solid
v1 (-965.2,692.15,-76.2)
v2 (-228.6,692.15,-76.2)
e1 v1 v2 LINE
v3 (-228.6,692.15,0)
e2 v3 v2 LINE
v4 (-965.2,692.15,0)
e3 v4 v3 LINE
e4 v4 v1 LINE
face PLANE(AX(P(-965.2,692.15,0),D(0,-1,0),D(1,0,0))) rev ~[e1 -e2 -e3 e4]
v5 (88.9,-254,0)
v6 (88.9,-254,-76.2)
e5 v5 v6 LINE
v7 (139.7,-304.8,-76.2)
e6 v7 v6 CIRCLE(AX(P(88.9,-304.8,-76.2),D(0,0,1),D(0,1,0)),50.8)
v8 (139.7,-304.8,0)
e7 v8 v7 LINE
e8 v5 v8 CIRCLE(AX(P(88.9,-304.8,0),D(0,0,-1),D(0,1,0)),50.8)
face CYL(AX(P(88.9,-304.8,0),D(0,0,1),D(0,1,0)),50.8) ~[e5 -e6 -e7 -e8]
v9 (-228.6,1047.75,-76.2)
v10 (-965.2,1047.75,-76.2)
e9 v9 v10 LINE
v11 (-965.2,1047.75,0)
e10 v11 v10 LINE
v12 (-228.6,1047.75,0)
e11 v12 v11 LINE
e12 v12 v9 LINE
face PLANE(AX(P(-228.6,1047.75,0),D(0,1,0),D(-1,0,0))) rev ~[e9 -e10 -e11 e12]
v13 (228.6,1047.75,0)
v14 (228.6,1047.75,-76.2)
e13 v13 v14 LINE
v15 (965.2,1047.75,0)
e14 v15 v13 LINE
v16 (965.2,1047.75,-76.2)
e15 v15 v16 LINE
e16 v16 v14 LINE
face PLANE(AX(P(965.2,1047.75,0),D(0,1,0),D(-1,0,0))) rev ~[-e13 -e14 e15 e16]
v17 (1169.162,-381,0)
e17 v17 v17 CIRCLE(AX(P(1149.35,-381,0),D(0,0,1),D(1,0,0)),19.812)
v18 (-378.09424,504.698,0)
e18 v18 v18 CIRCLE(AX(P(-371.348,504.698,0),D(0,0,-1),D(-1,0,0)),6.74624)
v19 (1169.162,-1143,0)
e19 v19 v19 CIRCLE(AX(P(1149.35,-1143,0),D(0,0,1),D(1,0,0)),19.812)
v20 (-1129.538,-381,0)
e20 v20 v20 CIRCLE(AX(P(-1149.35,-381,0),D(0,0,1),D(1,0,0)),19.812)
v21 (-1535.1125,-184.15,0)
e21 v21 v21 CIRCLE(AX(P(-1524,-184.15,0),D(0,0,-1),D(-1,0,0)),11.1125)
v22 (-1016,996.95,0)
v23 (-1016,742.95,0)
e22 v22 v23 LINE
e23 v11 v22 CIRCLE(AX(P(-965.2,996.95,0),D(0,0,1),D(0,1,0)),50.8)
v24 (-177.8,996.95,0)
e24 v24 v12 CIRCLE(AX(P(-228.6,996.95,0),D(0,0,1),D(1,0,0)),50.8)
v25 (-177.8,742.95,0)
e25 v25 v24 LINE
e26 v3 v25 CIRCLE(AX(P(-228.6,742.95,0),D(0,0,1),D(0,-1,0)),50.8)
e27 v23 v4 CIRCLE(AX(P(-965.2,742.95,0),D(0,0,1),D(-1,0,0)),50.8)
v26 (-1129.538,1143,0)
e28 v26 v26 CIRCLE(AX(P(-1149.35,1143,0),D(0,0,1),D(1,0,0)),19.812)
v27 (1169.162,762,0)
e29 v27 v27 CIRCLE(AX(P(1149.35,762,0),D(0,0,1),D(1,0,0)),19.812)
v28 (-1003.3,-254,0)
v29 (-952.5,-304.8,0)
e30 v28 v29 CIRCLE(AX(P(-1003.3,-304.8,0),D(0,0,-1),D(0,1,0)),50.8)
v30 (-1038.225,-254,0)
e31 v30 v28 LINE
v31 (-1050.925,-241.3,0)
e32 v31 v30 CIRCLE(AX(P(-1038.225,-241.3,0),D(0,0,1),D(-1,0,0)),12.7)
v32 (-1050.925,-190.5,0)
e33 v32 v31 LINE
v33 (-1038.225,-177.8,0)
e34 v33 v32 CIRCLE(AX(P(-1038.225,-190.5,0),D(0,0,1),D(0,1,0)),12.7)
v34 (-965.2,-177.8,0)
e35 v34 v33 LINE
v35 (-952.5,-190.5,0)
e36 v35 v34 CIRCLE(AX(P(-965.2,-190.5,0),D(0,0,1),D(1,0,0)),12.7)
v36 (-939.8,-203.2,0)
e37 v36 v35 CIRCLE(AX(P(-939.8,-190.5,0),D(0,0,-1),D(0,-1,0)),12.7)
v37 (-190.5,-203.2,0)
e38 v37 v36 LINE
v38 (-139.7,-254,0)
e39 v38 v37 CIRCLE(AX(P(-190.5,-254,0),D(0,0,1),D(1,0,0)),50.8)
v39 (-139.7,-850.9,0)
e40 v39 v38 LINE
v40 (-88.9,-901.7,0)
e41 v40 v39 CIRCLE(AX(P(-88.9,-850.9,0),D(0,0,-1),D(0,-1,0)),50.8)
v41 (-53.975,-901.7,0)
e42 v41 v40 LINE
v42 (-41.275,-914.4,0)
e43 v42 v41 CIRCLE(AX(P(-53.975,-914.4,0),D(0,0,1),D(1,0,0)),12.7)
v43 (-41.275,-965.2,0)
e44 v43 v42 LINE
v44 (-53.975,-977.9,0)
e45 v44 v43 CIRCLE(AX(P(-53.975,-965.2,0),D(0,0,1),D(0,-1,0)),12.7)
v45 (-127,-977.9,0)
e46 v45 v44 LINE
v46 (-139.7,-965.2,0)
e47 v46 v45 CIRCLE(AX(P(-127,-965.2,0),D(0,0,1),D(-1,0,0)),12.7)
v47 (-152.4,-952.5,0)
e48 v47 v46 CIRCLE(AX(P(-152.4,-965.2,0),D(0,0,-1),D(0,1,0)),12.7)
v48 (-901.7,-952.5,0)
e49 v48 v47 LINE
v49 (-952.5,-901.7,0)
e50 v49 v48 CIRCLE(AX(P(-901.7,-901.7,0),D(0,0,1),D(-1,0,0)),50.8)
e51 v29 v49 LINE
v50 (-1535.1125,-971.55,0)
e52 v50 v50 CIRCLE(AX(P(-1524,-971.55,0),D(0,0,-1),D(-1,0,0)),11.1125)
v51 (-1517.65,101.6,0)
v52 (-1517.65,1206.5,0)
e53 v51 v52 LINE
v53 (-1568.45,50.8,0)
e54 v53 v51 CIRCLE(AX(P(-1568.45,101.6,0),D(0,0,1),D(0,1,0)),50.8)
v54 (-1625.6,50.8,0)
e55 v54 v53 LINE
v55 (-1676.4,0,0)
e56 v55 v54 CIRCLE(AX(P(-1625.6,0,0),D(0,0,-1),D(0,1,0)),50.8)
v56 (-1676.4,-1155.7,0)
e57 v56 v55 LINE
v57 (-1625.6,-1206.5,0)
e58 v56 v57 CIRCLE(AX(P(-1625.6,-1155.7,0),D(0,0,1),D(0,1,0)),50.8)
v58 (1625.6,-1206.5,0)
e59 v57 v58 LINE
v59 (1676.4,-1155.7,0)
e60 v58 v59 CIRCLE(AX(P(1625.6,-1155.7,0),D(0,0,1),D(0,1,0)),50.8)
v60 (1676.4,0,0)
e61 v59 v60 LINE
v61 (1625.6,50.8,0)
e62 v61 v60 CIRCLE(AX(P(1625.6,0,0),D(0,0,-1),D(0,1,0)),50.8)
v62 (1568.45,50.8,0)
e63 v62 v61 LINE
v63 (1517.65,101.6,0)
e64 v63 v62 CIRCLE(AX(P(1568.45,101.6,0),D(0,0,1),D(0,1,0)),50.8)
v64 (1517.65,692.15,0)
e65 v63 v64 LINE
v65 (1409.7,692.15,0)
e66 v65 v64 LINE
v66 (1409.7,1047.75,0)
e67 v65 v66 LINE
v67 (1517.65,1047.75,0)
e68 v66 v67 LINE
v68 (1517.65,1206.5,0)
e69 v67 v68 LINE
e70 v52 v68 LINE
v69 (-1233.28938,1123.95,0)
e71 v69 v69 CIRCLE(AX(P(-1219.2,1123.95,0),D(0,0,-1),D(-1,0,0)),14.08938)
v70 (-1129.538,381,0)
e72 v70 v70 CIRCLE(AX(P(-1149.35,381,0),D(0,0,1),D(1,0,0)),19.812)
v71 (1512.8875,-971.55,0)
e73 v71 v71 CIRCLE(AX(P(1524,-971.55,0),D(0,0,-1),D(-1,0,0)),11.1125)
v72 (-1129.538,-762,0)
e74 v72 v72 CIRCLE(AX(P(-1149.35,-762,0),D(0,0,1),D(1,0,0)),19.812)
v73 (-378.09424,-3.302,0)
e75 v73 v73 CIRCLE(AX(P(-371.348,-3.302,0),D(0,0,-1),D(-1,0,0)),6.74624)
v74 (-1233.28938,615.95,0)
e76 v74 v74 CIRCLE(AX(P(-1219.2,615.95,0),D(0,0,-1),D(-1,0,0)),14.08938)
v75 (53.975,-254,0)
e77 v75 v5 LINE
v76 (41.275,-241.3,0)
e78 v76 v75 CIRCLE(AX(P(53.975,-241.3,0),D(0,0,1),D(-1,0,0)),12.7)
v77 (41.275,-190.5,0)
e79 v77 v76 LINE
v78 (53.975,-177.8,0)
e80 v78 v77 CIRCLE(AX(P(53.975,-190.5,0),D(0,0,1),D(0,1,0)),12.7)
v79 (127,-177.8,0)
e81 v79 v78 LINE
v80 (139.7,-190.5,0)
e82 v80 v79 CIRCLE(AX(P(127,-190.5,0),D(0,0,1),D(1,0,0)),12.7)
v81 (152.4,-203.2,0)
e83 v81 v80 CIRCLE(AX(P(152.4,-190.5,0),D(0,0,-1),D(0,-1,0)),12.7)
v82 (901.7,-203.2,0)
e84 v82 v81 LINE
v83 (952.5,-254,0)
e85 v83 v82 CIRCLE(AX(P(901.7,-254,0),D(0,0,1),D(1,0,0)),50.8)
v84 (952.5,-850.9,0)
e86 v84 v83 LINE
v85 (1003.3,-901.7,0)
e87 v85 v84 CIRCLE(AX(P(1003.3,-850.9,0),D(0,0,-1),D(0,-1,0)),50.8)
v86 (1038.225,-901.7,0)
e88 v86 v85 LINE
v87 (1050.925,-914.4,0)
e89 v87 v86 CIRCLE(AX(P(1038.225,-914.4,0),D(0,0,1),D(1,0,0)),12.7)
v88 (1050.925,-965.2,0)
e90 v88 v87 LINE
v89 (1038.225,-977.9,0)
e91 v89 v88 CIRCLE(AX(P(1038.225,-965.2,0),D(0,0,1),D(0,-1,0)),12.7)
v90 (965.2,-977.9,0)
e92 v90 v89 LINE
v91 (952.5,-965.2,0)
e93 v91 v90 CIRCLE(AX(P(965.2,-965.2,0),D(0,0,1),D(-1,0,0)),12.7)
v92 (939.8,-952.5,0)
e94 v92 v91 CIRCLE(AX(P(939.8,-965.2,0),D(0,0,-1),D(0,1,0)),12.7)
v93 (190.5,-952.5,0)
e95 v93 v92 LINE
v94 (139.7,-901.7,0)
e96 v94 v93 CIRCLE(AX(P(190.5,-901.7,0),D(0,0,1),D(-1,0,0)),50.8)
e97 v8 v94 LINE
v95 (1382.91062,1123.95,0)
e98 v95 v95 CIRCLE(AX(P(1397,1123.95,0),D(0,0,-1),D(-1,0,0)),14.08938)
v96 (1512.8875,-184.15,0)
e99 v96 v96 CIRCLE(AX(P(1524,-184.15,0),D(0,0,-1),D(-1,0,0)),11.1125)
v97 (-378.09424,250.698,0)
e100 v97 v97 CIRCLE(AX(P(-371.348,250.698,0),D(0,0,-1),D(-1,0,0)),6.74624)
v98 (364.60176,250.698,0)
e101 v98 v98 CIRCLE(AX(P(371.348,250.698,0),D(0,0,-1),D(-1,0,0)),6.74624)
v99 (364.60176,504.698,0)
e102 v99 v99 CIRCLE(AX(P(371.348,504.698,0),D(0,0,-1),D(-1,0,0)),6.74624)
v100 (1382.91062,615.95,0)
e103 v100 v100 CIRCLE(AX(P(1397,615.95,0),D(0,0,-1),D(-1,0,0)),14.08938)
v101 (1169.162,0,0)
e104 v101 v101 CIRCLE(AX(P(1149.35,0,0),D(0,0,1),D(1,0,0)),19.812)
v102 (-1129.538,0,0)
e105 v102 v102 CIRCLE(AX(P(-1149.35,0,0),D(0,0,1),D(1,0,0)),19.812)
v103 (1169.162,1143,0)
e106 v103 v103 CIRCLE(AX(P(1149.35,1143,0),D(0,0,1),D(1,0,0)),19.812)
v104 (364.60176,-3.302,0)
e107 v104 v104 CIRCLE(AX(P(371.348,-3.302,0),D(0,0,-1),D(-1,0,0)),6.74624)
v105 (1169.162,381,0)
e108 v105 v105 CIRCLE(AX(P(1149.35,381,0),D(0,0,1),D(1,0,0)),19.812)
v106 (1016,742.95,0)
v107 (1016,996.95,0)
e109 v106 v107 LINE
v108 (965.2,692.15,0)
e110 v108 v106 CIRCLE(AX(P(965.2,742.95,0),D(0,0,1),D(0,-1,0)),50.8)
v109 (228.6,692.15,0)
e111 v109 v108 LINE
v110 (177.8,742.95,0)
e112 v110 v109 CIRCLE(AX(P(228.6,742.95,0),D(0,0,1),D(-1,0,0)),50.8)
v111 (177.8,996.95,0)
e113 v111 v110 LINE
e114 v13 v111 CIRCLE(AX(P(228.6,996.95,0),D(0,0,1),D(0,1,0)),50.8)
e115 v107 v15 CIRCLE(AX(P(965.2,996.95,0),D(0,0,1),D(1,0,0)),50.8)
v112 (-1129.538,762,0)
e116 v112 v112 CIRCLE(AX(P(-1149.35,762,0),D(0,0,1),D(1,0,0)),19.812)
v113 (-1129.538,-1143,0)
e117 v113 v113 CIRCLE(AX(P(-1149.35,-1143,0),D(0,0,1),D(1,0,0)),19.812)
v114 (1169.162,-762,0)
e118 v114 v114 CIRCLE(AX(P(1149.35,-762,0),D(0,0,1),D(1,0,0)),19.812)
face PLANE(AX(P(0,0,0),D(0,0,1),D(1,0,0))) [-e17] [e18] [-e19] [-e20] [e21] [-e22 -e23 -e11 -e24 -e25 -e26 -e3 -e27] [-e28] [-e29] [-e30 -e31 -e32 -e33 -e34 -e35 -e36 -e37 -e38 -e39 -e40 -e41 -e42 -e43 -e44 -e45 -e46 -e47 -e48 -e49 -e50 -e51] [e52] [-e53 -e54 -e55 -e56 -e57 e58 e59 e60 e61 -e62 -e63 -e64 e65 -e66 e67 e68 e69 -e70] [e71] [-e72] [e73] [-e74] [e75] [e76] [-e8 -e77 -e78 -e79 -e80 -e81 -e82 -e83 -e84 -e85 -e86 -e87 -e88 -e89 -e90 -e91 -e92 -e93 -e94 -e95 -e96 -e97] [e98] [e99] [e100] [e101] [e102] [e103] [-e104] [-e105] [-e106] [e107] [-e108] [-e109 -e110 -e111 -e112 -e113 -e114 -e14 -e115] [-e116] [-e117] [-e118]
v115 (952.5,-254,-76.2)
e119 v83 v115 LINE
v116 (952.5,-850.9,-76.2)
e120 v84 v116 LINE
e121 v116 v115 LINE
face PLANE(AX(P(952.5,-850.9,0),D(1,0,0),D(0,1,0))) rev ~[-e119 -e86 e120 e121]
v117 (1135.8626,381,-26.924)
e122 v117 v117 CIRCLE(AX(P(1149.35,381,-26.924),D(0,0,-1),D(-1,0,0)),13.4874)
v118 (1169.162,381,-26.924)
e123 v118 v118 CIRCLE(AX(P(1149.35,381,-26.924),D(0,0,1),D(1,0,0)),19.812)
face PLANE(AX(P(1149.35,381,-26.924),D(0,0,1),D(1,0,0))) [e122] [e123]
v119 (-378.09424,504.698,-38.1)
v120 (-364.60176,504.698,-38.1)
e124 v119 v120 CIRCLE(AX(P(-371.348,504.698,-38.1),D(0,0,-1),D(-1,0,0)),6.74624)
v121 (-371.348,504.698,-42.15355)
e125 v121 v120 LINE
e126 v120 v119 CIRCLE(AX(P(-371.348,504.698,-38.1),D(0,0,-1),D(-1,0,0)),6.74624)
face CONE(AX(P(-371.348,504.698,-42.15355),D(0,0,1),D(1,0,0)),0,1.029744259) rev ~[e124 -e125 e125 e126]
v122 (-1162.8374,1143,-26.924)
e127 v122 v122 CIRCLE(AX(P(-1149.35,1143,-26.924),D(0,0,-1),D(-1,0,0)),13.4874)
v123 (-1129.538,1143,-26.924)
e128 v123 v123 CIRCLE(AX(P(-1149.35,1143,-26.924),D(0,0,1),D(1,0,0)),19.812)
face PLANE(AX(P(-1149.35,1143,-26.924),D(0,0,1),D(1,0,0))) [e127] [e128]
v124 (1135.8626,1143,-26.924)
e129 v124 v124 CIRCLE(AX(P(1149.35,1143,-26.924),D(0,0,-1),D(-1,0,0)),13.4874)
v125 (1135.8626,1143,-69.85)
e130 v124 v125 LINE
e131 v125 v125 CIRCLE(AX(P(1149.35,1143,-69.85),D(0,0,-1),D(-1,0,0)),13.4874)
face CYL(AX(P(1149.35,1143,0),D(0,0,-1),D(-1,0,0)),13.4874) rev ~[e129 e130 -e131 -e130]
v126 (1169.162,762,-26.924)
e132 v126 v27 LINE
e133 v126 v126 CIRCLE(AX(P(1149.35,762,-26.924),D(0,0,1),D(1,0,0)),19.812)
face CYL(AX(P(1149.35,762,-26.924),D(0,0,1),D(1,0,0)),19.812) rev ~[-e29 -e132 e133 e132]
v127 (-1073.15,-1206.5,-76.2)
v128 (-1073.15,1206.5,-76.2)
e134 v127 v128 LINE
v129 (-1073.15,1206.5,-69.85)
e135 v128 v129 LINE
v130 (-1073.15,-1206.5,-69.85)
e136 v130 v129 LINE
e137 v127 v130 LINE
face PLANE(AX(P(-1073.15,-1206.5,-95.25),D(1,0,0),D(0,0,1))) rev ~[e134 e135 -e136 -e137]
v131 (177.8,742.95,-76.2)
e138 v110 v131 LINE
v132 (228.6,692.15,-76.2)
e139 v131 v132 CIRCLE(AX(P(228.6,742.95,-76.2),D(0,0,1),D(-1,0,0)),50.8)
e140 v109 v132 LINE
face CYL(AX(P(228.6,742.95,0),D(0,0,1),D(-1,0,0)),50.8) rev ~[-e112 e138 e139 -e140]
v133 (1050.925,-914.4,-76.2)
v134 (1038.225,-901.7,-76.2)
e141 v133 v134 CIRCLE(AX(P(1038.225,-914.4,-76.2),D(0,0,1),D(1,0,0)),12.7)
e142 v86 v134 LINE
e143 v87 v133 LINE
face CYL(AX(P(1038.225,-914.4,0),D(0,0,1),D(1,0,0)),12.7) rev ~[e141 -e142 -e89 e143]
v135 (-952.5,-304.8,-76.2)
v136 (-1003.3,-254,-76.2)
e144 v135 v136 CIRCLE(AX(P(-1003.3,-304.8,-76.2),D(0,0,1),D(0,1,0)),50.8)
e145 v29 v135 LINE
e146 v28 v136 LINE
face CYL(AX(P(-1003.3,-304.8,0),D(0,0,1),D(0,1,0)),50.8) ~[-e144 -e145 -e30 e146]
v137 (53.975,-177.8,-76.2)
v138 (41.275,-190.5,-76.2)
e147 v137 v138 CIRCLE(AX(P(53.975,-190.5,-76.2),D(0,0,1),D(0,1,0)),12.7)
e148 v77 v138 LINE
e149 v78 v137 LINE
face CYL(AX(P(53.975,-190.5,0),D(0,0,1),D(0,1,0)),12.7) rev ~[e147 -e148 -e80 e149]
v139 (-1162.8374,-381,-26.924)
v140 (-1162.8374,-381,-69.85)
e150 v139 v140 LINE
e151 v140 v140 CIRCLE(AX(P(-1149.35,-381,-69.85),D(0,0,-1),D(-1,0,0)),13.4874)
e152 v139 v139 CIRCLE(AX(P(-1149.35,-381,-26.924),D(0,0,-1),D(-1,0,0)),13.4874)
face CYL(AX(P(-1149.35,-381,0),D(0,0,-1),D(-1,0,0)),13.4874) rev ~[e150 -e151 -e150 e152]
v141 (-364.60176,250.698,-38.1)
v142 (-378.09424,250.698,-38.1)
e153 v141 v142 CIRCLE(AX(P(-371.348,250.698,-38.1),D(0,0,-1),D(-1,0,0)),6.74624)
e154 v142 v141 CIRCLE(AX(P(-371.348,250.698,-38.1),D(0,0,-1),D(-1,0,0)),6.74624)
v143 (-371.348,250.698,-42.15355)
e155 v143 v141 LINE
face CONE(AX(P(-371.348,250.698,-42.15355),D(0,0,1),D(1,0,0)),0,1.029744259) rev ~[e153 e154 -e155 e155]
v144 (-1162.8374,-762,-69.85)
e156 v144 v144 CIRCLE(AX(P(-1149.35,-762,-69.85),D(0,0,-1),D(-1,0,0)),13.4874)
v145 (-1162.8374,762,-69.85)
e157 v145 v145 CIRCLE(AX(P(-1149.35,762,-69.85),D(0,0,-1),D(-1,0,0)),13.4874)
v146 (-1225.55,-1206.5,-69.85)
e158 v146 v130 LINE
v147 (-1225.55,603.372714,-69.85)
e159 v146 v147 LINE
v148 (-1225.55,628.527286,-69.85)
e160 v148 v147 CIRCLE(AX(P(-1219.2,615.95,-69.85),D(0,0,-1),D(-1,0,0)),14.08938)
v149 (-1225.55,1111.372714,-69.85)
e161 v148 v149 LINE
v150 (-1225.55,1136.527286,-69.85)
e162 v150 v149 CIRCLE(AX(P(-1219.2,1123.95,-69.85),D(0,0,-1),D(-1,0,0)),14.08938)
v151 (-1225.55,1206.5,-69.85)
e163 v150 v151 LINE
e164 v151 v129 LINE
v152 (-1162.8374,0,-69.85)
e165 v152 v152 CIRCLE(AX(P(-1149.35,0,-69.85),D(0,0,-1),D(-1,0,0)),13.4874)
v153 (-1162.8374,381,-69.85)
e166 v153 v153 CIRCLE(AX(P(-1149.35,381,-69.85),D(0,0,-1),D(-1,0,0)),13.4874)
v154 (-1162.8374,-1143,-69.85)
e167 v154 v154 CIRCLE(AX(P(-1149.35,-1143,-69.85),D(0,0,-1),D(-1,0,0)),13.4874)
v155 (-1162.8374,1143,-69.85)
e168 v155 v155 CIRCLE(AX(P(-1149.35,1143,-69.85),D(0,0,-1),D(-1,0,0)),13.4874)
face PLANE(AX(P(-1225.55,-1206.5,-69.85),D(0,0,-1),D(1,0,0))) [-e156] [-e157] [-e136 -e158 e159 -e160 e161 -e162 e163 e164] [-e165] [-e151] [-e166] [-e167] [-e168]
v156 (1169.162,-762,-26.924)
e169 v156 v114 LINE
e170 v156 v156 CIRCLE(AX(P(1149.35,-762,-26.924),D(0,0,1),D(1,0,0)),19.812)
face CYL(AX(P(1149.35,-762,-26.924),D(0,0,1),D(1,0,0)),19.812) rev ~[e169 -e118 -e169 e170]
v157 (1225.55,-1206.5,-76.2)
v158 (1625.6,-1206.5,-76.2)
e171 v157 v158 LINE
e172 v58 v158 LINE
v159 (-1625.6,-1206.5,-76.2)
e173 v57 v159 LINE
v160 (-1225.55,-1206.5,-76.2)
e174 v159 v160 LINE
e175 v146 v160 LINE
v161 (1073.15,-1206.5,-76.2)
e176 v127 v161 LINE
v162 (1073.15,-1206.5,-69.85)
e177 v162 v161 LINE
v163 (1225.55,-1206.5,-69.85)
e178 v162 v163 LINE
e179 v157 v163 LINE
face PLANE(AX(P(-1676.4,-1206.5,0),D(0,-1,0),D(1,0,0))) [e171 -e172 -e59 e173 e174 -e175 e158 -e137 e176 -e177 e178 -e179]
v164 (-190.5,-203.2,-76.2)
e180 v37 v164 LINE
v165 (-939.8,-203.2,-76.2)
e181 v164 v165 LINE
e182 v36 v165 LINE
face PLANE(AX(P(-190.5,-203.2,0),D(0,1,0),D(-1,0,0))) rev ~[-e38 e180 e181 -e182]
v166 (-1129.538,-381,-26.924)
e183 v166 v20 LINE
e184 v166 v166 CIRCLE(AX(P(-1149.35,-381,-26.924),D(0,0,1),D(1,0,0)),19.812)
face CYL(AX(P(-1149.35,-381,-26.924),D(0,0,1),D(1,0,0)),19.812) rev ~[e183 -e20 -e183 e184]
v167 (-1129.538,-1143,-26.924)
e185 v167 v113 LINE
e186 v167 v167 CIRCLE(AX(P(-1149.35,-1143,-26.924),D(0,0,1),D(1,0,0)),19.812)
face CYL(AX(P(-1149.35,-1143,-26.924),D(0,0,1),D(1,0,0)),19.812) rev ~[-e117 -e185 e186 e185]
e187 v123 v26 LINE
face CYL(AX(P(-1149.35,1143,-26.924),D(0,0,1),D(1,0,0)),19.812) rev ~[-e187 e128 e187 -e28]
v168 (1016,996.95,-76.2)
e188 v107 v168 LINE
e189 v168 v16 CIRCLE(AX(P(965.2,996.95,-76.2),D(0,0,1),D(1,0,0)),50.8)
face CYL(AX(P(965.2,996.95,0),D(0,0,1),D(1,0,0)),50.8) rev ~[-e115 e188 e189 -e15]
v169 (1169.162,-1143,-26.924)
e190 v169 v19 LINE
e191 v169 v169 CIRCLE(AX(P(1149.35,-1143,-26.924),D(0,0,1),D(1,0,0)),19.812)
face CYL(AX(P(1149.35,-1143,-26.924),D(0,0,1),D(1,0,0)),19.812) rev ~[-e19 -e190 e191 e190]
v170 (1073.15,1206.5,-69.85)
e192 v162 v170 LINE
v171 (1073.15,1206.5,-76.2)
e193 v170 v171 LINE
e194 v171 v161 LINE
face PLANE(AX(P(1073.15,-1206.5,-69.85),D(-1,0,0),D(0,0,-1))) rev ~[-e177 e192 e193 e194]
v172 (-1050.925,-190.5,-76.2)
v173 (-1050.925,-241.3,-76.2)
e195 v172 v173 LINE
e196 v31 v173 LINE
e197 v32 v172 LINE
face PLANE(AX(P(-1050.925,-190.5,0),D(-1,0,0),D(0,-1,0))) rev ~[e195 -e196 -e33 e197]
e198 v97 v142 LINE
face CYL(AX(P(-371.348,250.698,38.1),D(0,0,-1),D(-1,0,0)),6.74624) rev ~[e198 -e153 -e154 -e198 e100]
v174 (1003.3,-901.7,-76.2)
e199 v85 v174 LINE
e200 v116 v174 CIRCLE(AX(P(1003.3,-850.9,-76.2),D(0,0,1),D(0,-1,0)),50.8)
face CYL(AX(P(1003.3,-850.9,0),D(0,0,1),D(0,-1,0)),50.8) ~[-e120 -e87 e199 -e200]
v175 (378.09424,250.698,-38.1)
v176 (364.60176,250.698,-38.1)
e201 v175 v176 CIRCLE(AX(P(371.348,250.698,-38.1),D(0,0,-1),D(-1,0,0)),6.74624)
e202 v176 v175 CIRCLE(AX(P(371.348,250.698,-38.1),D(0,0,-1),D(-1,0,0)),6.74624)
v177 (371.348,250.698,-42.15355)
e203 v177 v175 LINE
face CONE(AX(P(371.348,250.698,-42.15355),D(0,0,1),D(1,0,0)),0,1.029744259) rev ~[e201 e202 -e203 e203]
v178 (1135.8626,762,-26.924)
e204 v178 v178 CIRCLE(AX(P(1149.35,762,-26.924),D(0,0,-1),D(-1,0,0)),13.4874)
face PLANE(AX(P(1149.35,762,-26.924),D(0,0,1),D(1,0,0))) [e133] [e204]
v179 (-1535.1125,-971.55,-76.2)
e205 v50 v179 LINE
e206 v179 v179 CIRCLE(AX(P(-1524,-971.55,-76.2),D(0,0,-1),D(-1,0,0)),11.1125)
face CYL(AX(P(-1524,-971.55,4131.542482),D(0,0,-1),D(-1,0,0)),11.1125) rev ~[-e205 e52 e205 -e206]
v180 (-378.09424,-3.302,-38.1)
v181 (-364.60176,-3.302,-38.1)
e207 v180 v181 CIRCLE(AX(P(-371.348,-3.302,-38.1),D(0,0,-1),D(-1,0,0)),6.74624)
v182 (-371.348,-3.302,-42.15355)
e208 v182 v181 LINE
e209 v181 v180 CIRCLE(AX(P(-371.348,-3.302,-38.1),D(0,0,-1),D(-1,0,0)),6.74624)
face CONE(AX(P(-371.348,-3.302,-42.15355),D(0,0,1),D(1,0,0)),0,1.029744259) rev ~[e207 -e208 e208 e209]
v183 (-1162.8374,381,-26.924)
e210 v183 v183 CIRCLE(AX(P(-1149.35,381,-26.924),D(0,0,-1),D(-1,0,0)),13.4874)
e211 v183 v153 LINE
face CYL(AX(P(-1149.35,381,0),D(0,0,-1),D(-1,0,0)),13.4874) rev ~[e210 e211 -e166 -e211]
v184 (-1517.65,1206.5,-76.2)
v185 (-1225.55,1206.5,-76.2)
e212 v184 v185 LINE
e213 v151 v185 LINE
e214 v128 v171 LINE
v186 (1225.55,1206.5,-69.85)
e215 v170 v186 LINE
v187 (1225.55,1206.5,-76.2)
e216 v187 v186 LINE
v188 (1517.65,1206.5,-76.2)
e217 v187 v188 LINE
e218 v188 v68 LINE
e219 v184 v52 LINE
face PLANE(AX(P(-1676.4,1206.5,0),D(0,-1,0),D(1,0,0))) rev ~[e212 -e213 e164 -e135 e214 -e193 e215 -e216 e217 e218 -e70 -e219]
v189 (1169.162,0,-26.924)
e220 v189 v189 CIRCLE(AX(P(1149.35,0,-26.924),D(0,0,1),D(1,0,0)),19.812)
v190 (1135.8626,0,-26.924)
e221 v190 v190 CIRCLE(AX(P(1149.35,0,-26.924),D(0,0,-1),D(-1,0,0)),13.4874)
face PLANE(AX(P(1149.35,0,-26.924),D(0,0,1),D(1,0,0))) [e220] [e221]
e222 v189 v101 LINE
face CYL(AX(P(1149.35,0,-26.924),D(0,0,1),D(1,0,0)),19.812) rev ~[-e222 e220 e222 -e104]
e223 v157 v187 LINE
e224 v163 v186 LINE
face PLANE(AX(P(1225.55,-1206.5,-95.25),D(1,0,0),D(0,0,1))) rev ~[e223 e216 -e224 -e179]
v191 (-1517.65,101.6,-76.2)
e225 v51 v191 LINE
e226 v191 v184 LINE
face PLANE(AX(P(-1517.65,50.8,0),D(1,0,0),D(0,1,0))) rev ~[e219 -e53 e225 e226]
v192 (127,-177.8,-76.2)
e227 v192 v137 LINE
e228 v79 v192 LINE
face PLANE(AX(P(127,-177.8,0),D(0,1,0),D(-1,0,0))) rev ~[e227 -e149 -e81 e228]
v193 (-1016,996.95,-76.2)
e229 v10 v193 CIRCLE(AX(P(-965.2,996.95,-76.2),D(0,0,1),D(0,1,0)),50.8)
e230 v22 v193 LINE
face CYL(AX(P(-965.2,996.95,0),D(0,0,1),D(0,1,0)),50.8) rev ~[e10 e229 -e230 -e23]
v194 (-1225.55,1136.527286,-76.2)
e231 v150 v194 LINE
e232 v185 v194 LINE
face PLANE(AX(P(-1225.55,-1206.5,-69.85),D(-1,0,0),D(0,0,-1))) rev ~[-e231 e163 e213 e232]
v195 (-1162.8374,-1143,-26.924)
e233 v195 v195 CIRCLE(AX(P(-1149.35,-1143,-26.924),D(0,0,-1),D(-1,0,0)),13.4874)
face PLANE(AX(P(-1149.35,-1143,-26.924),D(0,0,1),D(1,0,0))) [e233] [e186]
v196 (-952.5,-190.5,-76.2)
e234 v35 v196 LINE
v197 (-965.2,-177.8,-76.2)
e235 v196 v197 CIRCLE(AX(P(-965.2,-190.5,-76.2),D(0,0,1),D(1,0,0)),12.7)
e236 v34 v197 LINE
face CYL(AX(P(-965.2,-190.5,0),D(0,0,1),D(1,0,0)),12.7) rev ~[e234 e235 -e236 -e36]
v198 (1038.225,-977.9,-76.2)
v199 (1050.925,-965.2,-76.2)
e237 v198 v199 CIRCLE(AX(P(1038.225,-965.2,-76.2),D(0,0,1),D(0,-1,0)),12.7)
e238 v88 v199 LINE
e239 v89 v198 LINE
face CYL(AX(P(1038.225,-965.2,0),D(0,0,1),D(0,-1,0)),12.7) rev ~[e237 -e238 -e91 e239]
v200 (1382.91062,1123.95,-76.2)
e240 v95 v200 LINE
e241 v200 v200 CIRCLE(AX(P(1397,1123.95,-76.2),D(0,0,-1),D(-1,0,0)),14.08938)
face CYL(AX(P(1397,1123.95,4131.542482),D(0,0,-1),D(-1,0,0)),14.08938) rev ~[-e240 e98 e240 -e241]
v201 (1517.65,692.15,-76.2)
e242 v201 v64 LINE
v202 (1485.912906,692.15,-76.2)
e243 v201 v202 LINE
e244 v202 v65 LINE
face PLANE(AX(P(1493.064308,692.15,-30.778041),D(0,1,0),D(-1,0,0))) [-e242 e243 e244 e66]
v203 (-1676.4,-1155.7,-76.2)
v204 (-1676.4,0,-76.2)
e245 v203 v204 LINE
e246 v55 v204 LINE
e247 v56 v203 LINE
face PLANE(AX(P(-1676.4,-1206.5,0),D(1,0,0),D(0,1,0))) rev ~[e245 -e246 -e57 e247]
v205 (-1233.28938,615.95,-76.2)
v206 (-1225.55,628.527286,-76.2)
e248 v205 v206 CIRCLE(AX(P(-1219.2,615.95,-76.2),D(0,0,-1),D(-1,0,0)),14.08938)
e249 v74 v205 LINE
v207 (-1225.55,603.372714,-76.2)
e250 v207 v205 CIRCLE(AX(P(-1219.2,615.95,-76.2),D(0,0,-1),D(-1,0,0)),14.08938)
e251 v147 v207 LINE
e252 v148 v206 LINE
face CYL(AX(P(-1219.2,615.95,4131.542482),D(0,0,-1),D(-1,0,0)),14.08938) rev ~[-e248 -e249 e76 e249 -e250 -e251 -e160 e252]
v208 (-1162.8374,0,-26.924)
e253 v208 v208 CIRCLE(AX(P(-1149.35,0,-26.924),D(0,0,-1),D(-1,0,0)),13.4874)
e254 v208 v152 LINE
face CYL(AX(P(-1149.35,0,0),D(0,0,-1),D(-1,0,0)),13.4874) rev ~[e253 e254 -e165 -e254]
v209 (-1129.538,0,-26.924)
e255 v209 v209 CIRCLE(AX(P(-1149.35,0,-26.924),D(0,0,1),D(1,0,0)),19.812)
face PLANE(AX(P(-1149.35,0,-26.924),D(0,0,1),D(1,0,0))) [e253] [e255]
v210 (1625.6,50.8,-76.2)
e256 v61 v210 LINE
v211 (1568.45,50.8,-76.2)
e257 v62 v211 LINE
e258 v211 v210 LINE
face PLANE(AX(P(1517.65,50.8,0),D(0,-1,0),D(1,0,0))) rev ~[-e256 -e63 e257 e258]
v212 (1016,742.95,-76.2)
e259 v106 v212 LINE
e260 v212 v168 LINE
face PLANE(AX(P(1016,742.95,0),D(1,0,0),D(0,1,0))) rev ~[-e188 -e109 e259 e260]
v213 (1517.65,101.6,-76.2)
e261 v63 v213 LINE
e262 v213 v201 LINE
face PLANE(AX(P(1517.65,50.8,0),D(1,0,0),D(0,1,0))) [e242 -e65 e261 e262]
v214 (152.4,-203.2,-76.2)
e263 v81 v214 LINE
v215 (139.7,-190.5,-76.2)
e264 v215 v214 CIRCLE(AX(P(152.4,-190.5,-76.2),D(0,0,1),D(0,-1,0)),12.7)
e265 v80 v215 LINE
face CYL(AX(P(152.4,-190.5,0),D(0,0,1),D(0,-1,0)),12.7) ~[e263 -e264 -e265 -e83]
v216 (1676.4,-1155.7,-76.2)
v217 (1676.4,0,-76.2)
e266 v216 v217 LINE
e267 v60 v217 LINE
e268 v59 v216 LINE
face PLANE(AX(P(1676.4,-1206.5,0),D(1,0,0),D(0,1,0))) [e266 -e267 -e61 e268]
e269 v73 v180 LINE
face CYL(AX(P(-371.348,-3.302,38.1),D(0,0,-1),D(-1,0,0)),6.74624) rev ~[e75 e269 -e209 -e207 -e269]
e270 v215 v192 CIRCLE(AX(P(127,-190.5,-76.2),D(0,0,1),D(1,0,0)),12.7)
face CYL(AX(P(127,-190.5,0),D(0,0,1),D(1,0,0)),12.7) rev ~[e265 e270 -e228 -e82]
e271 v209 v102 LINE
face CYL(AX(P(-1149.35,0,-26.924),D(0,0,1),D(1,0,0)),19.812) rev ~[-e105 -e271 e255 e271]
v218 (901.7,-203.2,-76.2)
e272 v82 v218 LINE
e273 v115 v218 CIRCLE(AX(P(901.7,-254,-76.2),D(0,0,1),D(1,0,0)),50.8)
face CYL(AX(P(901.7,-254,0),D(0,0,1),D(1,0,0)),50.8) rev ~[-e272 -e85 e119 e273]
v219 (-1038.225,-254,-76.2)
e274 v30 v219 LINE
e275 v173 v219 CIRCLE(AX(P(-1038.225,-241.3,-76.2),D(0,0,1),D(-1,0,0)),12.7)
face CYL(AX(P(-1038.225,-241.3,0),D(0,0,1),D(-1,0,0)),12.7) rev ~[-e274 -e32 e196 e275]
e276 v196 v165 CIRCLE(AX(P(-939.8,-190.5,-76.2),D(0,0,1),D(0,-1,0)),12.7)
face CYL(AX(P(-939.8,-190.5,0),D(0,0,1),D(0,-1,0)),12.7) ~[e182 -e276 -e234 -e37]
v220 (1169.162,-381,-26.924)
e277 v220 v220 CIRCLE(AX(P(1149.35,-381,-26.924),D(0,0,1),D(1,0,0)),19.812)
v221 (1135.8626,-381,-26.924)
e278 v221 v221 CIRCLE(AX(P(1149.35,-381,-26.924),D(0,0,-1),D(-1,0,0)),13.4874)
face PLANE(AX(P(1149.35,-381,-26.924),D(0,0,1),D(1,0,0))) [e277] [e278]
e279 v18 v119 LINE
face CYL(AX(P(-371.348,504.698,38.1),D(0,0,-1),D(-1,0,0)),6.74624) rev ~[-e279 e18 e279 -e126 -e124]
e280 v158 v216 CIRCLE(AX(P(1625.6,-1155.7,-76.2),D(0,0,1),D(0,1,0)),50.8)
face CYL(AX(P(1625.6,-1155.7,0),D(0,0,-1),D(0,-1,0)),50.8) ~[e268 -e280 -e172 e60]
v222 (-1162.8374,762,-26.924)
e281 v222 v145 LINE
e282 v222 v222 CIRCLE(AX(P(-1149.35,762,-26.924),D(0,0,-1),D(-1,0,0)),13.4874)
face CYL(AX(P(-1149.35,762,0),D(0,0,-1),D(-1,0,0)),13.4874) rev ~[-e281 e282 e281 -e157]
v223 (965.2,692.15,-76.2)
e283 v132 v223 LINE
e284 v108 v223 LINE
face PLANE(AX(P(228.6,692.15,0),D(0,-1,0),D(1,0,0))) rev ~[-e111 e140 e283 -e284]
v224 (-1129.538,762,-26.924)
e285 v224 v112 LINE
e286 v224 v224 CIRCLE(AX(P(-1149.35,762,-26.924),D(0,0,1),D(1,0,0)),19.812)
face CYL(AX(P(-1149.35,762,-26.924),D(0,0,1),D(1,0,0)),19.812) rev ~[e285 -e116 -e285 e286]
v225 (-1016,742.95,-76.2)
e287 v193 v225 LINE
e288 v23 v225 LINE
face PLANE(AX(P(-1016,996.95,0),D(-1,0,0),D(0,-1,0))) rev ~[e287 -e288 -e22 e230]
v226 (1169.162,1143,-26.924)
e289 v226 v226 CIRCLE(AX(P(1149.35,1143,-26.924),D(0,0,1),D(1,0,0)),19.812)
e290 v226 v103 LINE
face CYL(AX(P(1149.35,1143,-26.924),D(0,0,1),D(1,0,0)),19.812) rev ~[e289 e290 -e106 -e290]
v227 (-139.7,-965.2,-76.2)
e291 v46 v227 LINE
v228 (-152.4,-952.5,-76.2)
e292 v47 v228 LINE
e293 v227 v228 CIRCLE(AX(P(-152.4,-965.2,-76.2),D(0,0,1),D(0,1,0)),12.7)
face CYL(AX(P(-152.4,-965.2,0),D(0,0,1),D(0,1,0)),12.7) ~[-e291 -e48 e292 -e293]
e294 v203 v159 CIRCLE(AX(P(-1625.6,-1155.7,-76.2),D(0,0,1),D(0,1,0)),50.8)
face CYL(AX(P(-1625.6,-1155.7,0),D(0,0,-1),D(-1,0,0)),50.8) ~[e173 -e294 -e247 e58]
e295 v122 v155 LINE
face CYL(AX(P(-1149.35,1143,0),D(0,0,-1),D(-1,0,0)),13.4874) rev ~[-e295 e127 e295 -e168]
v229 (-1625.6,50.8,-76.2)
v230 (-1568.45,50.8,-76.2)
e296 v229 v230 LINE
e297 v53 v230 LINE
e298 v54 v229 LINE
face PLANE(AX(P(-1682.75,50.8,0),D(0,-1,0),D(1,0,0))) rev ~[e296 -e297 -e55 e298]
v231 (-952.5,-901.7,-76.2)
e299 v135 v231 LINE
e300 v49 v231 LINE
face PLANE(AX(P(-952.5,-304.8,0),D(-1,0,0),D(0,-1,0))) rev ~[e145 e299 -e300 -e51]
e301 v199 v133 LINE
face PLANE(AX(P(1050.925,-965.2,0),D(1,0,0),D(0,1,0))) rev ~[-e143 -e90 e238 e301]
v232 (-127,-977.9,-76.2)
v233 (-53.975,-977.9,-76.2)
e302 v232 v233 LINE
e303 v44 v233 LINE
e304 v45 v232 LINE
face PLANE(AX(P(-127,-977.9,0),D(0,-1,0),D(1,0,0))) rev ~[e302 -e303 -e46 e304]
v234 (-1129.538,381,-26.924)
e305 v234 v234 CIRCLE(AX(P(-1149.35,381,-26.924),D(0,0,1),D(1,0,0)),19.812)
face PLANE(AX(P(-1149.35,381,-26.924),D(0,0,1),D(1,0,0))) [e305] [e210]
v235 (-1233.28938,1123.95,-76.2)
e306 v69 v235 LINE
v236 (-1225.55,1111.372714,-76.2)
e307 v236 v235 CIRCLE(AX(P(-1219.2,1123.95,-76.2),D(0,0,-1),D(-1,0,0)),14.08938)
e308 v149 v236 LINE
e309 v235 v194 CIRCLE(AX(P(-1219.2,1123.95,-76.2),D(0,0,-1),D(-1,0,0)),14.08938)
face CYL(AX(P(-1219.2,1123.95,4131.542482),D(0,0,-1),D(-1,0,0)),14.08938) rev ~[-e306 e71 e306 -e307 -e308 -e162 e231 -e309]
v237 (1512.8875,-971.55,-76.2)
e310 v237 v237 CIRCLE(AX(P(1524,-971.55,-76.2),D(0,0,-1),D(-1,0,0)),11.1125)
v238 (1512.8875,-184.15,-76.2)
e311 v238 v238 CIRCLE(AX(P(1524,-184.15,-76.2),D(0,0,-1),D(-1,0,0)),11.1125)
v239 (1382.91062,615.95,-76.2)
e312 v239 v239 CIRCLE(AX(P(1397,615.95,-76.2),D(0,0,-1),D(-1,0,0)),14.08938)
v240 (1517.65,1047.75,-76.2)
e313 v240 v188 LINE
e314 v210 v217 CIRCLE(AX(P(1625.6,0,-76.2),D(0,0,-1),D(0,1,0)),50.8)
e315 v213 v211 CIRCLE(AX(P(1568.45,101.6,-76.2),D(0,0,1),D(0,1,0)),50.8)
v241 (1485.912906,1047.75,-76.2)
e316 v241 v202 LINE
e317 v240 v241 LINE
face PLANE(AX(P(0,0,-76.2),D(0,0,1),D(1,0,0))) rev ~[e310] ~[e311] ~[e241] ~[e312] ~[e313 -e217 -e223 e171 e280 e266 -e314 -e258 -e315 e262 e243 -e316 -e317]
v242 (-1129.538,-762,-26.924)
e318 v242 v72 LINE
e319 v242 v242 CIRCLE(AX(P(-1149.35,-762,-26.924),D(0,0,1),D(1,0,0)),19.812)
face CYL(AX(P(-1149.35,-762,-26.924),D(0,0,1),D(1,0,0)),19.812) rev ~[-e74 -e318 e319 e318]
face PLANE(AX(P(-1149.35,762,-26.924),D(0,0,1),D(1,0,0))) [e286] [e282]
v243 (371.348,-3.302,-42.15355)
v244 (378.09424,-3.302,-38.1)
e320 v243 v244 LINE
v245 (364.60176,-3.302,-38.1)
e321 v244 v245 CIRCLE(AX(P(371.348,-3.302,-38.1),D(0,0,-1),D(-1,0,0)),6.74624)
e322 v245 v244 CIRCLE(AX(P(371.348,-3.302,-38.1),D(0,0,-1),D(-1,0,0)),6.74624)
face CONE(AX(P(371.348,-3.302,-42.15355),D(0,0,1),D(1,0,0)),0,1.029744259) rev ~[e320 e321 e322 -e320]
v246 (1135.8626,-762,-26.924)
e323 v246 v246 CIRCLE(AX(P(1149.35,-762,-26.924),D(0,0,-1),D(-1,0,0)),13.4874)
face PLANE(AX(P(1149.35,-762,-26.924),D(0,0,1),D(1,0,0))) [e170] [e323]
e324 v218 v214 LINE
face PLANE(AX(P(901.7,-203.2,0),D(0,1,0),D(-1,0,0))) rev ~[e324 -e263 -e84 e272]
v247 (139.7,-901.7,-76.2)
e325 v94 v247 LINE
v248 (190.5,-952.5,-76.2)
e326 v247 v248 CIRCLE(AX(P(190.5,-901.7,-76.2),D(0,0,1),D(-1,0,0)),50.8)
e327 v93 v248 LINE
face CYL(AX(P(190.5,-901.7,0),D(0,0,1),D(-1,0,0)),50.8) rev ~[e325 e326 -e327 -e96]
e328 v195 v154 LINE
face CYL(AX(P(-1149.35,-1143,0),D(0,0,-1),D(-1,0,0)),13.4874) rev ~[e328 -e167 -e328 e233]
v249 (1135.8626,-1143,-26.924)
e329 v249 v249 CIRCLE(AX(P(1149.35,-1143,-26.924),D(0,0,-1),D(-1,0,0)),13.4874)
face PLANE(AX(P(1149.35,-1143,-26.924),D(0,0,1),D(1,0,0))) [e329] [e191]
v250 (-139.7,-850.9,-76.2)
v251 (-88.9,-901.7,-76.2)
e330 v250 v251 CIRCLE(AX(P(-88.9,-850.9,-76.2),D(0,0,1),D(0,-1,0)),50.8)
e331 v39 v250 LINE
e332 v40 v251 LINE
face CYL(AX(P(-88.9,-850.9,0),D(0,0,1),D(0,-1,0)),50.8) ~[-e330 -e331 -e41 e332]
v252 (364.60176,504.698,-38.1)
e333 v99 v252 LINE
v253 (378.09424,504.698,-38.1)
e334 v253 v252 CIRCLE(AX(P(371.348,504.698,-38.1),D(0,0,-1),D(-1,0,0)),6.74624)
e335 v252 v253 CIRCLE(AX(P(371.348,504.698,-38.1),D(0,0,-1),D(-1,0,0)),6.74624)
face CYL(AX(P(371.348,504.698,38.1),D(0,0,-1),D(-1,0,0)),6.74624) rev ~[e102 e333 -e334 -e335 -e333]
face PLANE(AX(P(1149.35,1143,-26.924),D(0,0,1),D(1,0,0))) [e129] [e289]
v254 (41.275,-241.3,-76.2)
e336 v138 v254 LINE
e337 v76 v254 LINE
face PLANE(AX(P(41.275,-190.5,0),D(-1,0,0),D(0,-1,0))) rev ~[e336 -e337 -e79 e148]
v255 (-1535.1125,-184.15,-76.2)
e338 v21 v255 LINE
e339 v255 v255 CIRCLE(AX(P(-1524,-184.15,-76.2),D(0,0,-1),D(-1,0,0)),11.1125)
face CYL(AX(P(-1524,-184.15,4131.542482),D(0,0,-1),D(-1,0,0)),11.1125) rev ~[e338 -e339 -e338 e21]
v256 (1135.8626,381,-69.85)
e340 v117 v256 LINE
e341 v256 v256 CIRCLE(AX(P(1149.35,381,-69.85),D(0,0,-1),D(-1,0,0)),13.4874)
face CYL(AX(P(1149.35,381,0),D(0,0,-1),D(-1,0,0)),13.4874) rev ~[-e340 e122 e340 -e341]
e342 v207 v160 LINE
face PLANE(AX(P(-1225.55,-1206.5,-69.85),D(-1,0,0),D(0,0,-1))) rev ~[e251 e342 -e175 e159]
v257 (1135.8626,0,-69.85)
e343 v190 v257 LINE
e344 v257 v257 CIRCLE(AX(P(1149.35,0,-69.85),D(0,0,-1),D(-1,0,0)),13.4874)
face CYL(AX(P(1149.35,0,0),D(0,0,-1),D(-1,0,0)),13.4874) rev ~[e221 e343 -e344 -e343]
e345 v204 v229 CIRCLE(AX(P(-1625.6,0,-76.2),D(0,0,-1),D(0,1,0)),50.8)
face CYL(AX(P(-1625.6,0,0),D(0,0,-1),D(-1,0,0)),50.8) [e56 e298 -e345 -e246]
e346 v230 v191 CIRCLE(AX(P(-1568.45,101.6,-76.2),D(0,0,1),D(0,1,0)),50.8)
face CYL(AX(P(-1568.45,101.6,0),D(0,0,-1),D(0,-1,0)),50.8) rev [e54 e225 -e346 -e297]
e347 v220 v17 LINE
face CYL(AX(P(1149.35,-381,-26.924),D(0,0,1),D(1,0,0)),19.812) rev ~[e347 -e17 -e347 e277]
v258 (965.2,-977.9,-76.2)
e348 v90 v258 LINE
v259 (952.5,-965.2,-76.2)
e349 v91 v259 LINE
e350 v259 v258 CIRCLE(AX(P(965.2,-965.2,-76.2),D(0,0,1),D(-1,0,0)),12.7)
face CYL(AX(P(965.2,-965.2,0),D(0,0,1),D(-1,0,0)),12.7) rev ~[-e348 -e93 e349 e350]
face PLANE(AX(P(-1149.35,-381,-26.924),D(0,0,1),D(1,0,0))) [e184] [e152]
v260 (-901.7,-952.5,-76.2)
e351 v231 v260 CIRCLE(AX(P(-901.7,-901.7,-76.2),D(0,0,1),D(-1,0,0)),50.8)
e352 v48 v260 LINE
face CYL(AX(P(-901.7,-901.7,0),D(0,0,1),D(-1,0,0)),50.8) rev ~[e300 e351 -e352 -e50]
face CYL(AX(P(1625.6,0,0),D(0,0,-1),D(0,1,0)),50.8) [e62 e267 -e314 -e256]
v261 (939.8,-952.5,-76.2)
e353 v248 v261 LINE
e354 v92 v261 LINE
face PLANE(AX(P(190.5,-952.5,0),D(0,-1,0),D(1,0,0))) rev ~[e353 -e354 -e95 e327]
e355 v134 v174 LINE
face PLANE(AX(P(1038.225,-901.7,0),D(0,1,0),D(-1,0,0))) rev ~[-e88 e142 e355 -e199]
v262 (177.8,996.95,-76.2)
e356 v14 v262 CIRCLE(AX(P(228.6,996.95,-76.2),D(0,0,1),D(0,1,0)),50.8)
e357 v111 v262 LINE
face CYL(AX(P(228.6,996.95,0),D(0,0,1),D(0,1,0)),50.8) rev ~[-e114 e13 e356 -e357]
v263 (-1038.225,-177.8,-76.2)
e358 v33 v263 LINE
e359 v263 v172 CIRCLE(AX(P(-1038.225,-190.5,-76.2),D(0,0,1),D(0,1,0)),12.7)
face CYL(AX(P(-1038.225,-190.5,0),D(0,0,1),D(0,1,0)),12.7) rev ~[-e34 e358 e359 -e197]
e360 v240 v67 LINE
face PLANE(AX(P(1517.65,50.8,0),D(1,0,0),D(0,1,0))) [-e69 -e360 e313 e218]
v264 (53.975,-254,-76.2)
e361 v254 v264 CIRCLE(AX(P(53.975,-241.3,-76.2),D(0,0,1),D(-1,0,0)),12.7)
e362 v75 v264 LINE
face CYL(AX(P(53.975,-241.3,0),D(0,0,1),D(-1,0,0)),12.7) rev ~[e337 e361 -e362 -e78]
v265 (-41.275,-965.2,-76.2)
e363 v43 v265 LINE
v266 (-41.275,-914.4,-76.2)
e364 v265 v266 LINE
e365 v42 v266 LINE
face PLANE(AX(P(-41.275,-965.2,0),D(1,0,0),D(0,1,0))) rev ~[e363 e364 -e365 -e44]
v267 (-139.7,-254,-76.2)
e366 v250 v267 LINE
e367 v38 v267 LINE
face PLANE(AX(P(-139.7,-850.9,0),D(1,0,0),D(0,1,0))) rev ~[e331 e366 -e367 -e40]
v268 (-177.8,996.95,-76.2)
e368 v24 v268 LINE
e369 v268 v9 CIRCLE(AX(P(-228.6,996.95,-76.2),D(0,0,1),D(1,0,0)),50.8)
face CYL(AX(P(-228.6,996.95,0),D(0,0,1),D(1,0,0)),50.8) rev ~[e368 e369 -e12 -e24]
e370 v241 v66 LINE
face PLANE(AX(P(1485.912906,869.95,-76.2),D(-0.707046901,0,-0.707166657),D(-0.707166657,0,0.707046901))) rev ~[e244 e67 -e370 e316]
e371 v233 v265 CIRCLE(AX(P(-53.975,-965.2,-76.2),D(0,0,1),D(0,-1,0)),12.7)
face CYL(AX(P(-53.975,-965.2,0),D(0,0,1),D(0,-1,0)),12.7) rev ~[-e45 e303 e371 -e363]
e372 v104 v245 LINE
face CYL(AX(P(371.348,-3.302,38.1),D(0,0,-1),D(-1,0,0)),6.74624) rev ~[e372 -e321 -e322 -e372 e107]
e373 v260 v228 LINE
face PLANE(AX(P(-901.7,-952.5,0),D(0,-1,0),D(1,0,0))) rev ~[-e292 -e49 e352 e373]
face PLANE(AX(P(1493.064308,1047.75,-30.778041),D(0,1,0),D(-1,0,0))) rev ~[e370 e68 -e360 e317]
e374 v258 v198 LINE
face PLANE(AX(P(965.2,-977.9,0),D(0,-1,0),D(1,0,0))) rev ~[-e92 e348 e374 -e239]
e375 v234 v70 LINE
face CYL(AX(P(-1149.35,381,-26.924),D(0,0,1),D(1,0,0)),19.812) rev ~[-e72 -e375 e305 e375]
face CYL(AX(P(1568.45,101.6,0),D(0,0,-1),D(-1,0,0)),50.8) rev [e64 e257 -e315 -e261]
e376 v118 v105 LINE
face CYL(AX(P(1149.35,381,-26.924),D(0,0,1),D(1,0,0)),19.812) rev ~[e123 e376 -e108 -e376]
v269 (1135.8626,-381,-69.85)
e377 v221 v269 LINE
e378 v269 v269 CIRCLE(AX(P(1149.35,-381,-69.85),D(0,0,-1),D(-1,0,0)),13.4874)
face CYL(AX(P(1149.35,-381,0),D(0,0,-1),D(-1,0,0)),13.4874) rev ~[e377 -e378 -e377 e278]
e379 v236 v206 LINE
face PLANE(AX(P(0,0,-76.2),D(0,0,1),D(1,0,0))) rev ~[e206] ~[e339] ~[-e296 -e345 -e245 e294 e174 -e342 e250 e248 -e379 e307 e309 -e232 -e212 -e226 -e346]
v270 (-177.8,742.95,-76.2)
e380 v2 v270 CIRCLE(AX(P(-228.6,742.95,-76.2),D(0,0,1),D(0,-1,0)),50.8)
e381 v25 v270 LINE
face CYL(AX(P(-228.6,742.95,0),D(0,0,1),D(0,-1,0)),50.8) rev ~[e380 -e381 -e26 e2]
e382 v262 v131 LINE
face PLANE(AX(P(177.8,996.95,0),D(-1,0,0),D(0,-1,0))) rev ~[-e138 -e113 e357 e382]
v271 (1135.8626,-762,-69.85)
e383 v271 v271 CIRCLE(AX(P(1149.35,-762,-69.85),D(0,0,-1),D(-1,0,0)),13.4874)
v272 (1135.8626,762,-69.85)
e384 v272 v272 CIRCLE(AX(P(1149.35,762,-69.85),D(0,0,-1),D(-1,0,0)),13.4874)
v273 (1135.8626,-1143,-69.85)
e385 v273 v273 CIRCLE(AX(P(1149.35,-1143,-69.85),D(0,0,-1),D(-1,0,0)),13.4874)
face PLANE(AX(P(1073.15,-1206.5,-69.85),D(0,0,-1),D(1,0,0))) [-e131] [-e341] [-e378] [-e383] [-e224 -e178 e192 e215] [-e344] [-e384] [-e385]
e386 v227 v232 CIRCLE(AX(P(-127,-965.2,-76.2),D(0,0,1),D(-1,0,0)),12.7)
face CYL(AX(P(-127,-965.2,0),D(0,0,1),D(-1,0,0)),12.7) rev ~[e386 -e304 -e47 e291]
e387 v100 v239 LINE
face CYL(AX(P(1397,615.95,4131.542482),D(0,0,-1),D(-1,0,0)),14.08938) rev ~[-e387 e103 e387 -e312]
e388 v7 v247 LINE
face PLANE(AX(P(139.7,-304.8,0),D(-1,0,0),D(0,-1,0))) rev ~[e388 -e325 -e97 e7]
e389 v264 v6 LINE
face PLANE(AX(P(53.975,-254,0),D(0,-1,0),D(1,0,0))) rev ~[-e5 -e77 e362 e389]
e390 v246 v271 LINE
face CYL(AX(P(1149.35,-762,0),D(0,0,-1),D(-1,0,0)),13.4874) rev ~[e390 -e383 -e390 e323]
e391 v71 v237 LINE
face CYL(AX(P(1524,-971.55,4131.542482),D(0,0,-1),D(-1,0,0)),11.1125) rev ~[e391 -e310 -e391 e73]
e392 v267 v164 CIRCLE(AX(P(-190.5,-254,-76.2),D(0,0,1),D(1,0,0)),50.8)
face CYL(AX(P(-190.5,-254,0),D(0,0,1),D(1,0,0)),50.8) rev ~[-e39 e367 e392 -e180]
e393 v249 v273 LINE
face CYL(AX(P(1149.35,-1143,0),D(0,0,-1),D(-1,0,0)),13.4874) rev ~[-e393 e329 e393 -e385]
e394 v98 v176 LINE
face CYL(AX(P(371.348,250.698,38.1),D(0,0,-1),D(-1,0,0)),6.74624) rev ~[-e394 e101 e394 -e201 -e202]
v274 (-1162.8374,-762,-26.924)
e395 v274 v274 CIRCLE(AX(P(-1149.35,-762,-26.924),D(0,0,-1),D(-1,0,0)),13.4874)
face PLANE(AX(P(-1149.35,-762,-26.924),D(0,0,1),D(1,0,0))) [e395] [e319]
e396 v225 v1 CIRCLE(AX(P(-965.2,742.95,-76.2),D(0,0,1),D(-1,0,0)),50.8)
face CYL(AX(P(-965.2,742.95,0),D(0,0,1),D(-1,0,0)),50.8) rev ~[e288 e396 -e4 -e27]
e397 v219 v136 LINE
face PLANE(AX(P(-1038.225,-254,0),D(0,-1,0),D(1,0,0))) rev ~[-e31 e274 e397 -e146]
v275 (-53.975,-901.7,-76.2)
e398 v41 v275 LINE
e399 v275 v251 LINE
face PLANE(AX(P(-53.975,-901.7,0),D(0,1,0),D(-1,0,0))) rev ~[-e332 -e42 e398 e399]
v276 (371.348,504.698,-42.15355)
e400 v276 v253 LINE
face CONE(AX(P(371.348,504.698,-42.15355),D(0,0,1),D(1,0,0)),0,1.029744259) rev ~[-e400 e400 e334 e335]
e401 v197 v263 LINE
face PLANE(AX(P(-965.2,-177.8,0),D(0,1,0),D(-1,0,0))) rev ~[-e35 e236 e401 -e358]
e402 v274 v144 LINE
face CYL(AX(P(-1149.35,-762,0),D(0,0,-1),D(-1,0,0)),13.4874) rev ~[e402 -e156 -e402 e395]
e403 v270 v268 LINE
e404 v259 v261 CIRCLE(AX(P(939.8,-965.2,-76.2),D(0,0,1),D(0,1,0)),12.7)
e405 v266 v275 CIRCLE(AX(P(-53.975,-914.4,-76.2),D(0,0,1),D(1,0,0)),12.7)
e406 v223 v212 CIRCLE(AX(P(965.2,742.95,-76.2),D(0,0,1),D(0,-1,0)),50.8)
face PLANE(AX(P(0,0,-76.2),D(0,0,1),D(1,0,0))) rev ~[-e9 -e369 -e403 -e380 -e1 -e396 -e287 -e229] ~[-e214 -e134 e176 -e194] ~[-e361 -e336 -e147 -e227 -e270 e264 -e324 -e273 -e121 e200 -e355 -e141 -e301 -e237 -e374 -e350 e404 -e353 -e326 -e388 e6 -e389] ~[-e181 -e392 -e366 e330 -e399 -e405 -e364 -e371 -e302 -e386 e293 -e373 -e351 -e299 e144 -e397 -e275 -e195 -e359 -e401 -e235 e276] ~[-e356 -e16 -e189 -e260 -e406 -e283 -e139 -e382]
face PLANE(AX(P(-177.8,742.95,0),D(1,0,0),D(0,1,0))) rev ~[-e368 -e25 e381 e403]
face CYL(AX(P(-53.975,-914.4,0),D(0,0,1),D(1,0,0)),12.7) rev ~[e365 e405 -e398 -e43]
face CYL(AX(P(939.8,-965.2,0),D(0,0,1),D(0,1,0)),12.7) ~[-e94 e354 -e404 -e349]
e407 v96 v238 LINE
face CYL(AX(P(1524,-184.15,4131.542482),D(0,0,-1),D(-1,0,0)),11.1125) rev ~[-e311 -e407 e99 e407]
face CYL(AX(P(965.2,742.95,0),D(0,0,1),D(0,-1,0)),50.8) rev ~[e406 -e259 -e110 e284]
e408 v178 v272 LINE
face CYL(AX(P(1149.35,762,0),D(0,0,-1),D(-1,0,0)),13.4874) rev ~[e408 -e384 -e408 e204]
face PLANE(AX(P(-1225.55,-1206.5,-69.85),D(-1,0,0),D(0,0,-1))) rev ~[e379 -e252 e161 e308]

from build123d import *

# Parameters (mm, degrees)
F0_W            = 3352.8
F0_H            = 2413
F1_DEPTH        = 76.2
F2_W            = 152.4
F2_H            = 19.05
F2_H_2          = 6.35
F3_DEPTH        = 2413.001
F4_W            = 165.1
F4_H            = 1162.05
F5_DEPTH        = 76.201
F6_R            = 50.8
F8_DEPTH        = 76.201
F10_DEPTH       = 76.201
F13_DEPTH       = 177.8
F15_D           = 13.49248
F15_DEPTH       = 38.1
F15_TIP         = 4.0535499425
F17_D           = 26.9748
F17_CBORE_D     = 39.624
F17_CBORE_DEPTH = 26.924
F19_D           = 22.225
F21_D           = 28.17876
F23_D           = 28.17876


with BuildPart() as f1:
    # F0 (on Top) → F1 (new body)
    with BuildSketch(Plane.XY):
        Rectangle(F0_W, F0_H)
    extrude(amount=-F1_DEPTH)

    # F2 (on face) → F3 (cut, through all)
    with BuildSketch(Plane.XZ.offset(1206.5)):
        with Locations((-1149.35, -85.725)):
            Rectangle(F2_W, F2_H)
        with Locations((1149.35, -85.725)):
            Rectangle(F2_W, F2_H)
        with Locations((1149.35, -73.025)):
            Rectangle(F2_W, F2_H_2)
        with Locations((-1149.35, -73.025)):
            Rectangle(F2_W, F2_H_2)
    extrude(amount=-F3_DEPTH, mode=Mode.SUBTRACT)

    # F4 (on face) → F5 (cut, through all)
    with BuildSketch(Plane.XY):
        with Locations((-1600.2, 631.825)):
            Rectangle(F4_W, F4_H)
        with Locations((1600.2, 631.825)):
            Rectangle(F4_W, F4_H)
    extrude(amount=-F5_DEPTH, mode=Mode.SUBTRACT)

    # F6
    f6_edges = [f1.edges().sort_by_distance(p)[0] for p in [
        (-1676.4, -1206.5, -38.1),
        (-1676.4, 50.8, -38.1),
        (-1517.65, 50.8, -38.1),
        (1517.65, 50.8, -38.1),
        (1676.4, 50.8, -38.1),
        (1676.4, -1206.5, -38.1),
    ]]
    fillet(f6_edges, radius=F6_R)

    # F7 (on face) → F8 (cut, through all)
    with BuildSketch(Plane.XY):
        with BuildLine():
            ThreePointArc((-1016, 742.95), (-1001.1210244843, 707.0289755157), (-965.2, 692.15))
            Line((-965.2, 692.15), (-228.6, 692.15))
            ThreePointArc((-228.6, 692.15), (-192.6789755157, 707.0289755157), (-177.8, 742.95))
            Line((-177.8, 742.95), (-177.8, 996.95))
            ThreePointArc((-177.8, 996.95), (-192.6789755157, 1032.8710244843), (-228.6, 1047.75))
            Line((-228.6, 1047.75), (-965.2, 1047.75))
            ThreePointArc((-965.2, 1047.75), (-1001.1210244843, 1032.8710244843), (-1016, 996.95))
            Line((-1016, 996.95), (-1016, 742.95))
        make_face()
        with BuildLine():
            ThreePointArc((965.2, 692.15), (1001.1210244843, 707.0289755157), (1016, 742.95))
            Line((1016, 742.95), (1016, 996.95))
            ThreePointArc((1016, 996.95), (1001.1210244843, 1032.8710244843), (965.2, 1047.75))
            Line((965.2, 1047.75), (228.6, 1047.75))
            ThreePointArc((228.6, 1047.75), (192.6789755157, 1032.8710244843), (177.8, 996.95))
            Line((177.8, 996.95), (177.8, 742.95))
            ThreePointArc((177.8, 742.95), (192.6789755157, 707.0289755157), (228.6, 692.15))
            Line((228.6, 692.15), (965.2, 692.15))
        make_face()
    extrude(amount=-F8_DEPTH, mode=Mode.SUBTRACT)

    # F9 (on face) → F10 (cut, through all)
    with BuildSketch(Plane.XY):
        with BuildLine():
            ThreePointArc((-952.5, -901.7), (-937.6210244843, -937.6210244843), (-901.7, -952.5))
            Line((-901.7, -952.5), (-152.4, -952.5))
            ThreePointArc((-152.4, -952.5), (-143.4197438789, -956.2197438789), (-139.7, -965.2))
            ThreePointArc((-139.7, -965.2), (-135.9802561211, -974.1802561211), (-127, -977.9))
            Line((-127, -977.9), (-53.975, -977.9))
            ThreePointArc((-53.975, -977.9), (-44.9947438789, -974.1802561211), (-41.275, -965.2))
            Line((-41.275, -965.2), (-41.275, -914.4))
            ThreePointArc((-41.275, -914.4), (-44.9947438789, -905.4197438789), (-53.975, -901.7))
            Line((-53.975, -901.7), (-88.9, -901.7))
            ThreePointArc((-88.9, -901.7), (-124.8210244843, -886.8210244843), (-139.7, -850.9))
            Line((-139.7, -850.9), (-139.7, -254))
            ThreePointArc((-139.7, -254), (-154.5789755157, -218.0789755157), (-190.5, -203.2))
            Line((-190.5, -203.2), (-939.8, -203.2))
            ThreePointArc((-939.8, -203.2), (-948.7802561211, -199.4802561211), (-952.5, -190.5))
            ThreePointArc((-952.5, -190.5), (-956.2197438789, -181.5197438789), (-965.2, -177.8))
            Line((-965.2, -177.8), (-1038.225, -177.8))
            ThreePointArc((-1038.225, -177.8), (-1047.2052561211, -181.5197438789), (-1050.925, -190.5))
            Line((-1050.925, -190.5), (-1050.925, -241.3))
            ThreePointArc((-1050.925, -241.3), (-1047.2052561211, -250.2802561211), (-1038.225, -254))
            Line((-1038.225, -254), (-1003.3, -254))
            ThreePointArc((-1003.3, -254), (-967.3789755157, -268.8789755157), (-952.5, -304.8))
            Line((-952.5, -304.8), (-952.5, -901.7))
        make_face()
        with BuildLine():
            Line((139.7, -304.8), (139.7, -901.7))
            ThreePointArc((139.7, -901.7), (154.5789755157, -937.6210244843), (190.5, -952.5))
            Line((190.5, -952.5), (939.8, -952.5))
            ThreePointArc((939.8, -952.5), (948.7802561211, -956.2197438789), (952.5, -965.2))
            ThreePointArc((952.5, -965.2), (956.2197438789, -974.1802561211), (965.2, -977.9))
            Line((965.2, -977.9), (1038.225, -977.9))
            ThreePointArc((1038.225, -977.9), (1047.2052561211, -974.1802561211), (1050.925, -965.2))
            Line((1050.925, -965.2), (1050.925, -914.4))
            ThreePointArc((1050.925, -914.4), (1047.2052561211, -905.4197438789), (1038.225, -901.7))
            Line((1038.225, -901.7), (1003.3, -901.7))
            ThreePointArc((1003.3, -901.7), (967.3789755157, -886.8210244843), (952.5, -850.9))
            Line((952.5, -850.9), (952.5, -254))
            ThreePointArc((952.5, -254), (937.6210244843, -218.0789755157), (901.7, -203.2))
            Line((901.7, -203.2), (152.4, -203.2))
            ThreePointArc((152.4, -203.2), (143.4197438789, -199.4802561211), (139.7, -190.5))
            ThreePointArc((139.7, -190.5), (135.9802561211, -181.5197438789), (127, -177.8))
            Line((127, -177.8), (53.975, -177.8))
            ThreePointArc((53.975, -177.8), (44.9947438789, -181.5197438789), (41.275, -190.5))
            Line((41.275, -190.5), (41.275, -241.3))
            ThreePointArc((41.275, -241.3), (44.9947438789, -250.2802561211), (53.975, -254))
            Line((53.975, -254), (88.9, -254))
            ThreePointArc((88.9, -254), (124.8210244843, -268.8789755157), (139.7, -304.8))
        make_face()
    extrude(amount=-F10_DEPTH, mode=Mode.SUBTRACT)

    # F12 (on offset) → F13 (cut, symmetric)
    with BuildSketch(Plane(origin=(0, 869.95, 0), x_dir=(-1, 0, 0), z_dir=(0, 1, 0))):
        Polygon((-1485.9129063403, -76.2), (-1409.7, 0), (-1485.9129063403, 0), (-1554.1082620621, 0), (-1554.1082620621, -76.2), align=None)
    extrude(amount=F13_DEPTH, both=True, mode=Mode.SUBTRACT)

    # F15
    with Locations(Plane.XY):
        with Locations((-371.348, 504.698), (-371.348, 250.698), (-371.348, -3.302), (371.348, 504.698), (371.348, 250.698), (371.348, -3.302)):
            Hole(F15_D / 2, depth=F15_DEPTH)
            with Locations((0, 0, -(F15_DEPTH + F15_TIP / 2))):  # 118° drill point
                Cone(0, F15_D / 2, F15_TIP, mode=Mode.SUBTRACT)

    # F17 (through all)
    with Locations(Plane.XY):
        with Locations((-1149.35, -1143), (-1149.35, -762), (-1149.35, -381), (-1149.35, 0), (-1149.35, 381), (-1149.35, 762), (-1149.35, 1143), (1149.35, 1143), (1149.35, 762), (1149.35, 381), (1149.35, 0), (1149.35, -381), (1149.35, -762), (1149.35, -1143)):
            CounterBoreHole(F17_D / 2, F17_CBORE_D / 2, F17_CBORE_DEPTH)

    # F19 (through all)
    with Locations(Plane.XY):
        with Locations((-1524, -184.15), (-1524, -971.55), (1524, -184.15), (1524, -971.55)):
            Hole(F19_D / 2)

    # F21 (through all)
    with Locations(Plane.XY):
        with Locations((1397, 1123.95), (1397, 615.95)):
            Hole(F21_D / 2)

    # F23 (through all)
    with Locations(Plane.XY):
        with Locations((-1219.2, 1123.95), (-1219.2, 615.95)):
            Hole(F23_D / 2)


solid = f1.part
